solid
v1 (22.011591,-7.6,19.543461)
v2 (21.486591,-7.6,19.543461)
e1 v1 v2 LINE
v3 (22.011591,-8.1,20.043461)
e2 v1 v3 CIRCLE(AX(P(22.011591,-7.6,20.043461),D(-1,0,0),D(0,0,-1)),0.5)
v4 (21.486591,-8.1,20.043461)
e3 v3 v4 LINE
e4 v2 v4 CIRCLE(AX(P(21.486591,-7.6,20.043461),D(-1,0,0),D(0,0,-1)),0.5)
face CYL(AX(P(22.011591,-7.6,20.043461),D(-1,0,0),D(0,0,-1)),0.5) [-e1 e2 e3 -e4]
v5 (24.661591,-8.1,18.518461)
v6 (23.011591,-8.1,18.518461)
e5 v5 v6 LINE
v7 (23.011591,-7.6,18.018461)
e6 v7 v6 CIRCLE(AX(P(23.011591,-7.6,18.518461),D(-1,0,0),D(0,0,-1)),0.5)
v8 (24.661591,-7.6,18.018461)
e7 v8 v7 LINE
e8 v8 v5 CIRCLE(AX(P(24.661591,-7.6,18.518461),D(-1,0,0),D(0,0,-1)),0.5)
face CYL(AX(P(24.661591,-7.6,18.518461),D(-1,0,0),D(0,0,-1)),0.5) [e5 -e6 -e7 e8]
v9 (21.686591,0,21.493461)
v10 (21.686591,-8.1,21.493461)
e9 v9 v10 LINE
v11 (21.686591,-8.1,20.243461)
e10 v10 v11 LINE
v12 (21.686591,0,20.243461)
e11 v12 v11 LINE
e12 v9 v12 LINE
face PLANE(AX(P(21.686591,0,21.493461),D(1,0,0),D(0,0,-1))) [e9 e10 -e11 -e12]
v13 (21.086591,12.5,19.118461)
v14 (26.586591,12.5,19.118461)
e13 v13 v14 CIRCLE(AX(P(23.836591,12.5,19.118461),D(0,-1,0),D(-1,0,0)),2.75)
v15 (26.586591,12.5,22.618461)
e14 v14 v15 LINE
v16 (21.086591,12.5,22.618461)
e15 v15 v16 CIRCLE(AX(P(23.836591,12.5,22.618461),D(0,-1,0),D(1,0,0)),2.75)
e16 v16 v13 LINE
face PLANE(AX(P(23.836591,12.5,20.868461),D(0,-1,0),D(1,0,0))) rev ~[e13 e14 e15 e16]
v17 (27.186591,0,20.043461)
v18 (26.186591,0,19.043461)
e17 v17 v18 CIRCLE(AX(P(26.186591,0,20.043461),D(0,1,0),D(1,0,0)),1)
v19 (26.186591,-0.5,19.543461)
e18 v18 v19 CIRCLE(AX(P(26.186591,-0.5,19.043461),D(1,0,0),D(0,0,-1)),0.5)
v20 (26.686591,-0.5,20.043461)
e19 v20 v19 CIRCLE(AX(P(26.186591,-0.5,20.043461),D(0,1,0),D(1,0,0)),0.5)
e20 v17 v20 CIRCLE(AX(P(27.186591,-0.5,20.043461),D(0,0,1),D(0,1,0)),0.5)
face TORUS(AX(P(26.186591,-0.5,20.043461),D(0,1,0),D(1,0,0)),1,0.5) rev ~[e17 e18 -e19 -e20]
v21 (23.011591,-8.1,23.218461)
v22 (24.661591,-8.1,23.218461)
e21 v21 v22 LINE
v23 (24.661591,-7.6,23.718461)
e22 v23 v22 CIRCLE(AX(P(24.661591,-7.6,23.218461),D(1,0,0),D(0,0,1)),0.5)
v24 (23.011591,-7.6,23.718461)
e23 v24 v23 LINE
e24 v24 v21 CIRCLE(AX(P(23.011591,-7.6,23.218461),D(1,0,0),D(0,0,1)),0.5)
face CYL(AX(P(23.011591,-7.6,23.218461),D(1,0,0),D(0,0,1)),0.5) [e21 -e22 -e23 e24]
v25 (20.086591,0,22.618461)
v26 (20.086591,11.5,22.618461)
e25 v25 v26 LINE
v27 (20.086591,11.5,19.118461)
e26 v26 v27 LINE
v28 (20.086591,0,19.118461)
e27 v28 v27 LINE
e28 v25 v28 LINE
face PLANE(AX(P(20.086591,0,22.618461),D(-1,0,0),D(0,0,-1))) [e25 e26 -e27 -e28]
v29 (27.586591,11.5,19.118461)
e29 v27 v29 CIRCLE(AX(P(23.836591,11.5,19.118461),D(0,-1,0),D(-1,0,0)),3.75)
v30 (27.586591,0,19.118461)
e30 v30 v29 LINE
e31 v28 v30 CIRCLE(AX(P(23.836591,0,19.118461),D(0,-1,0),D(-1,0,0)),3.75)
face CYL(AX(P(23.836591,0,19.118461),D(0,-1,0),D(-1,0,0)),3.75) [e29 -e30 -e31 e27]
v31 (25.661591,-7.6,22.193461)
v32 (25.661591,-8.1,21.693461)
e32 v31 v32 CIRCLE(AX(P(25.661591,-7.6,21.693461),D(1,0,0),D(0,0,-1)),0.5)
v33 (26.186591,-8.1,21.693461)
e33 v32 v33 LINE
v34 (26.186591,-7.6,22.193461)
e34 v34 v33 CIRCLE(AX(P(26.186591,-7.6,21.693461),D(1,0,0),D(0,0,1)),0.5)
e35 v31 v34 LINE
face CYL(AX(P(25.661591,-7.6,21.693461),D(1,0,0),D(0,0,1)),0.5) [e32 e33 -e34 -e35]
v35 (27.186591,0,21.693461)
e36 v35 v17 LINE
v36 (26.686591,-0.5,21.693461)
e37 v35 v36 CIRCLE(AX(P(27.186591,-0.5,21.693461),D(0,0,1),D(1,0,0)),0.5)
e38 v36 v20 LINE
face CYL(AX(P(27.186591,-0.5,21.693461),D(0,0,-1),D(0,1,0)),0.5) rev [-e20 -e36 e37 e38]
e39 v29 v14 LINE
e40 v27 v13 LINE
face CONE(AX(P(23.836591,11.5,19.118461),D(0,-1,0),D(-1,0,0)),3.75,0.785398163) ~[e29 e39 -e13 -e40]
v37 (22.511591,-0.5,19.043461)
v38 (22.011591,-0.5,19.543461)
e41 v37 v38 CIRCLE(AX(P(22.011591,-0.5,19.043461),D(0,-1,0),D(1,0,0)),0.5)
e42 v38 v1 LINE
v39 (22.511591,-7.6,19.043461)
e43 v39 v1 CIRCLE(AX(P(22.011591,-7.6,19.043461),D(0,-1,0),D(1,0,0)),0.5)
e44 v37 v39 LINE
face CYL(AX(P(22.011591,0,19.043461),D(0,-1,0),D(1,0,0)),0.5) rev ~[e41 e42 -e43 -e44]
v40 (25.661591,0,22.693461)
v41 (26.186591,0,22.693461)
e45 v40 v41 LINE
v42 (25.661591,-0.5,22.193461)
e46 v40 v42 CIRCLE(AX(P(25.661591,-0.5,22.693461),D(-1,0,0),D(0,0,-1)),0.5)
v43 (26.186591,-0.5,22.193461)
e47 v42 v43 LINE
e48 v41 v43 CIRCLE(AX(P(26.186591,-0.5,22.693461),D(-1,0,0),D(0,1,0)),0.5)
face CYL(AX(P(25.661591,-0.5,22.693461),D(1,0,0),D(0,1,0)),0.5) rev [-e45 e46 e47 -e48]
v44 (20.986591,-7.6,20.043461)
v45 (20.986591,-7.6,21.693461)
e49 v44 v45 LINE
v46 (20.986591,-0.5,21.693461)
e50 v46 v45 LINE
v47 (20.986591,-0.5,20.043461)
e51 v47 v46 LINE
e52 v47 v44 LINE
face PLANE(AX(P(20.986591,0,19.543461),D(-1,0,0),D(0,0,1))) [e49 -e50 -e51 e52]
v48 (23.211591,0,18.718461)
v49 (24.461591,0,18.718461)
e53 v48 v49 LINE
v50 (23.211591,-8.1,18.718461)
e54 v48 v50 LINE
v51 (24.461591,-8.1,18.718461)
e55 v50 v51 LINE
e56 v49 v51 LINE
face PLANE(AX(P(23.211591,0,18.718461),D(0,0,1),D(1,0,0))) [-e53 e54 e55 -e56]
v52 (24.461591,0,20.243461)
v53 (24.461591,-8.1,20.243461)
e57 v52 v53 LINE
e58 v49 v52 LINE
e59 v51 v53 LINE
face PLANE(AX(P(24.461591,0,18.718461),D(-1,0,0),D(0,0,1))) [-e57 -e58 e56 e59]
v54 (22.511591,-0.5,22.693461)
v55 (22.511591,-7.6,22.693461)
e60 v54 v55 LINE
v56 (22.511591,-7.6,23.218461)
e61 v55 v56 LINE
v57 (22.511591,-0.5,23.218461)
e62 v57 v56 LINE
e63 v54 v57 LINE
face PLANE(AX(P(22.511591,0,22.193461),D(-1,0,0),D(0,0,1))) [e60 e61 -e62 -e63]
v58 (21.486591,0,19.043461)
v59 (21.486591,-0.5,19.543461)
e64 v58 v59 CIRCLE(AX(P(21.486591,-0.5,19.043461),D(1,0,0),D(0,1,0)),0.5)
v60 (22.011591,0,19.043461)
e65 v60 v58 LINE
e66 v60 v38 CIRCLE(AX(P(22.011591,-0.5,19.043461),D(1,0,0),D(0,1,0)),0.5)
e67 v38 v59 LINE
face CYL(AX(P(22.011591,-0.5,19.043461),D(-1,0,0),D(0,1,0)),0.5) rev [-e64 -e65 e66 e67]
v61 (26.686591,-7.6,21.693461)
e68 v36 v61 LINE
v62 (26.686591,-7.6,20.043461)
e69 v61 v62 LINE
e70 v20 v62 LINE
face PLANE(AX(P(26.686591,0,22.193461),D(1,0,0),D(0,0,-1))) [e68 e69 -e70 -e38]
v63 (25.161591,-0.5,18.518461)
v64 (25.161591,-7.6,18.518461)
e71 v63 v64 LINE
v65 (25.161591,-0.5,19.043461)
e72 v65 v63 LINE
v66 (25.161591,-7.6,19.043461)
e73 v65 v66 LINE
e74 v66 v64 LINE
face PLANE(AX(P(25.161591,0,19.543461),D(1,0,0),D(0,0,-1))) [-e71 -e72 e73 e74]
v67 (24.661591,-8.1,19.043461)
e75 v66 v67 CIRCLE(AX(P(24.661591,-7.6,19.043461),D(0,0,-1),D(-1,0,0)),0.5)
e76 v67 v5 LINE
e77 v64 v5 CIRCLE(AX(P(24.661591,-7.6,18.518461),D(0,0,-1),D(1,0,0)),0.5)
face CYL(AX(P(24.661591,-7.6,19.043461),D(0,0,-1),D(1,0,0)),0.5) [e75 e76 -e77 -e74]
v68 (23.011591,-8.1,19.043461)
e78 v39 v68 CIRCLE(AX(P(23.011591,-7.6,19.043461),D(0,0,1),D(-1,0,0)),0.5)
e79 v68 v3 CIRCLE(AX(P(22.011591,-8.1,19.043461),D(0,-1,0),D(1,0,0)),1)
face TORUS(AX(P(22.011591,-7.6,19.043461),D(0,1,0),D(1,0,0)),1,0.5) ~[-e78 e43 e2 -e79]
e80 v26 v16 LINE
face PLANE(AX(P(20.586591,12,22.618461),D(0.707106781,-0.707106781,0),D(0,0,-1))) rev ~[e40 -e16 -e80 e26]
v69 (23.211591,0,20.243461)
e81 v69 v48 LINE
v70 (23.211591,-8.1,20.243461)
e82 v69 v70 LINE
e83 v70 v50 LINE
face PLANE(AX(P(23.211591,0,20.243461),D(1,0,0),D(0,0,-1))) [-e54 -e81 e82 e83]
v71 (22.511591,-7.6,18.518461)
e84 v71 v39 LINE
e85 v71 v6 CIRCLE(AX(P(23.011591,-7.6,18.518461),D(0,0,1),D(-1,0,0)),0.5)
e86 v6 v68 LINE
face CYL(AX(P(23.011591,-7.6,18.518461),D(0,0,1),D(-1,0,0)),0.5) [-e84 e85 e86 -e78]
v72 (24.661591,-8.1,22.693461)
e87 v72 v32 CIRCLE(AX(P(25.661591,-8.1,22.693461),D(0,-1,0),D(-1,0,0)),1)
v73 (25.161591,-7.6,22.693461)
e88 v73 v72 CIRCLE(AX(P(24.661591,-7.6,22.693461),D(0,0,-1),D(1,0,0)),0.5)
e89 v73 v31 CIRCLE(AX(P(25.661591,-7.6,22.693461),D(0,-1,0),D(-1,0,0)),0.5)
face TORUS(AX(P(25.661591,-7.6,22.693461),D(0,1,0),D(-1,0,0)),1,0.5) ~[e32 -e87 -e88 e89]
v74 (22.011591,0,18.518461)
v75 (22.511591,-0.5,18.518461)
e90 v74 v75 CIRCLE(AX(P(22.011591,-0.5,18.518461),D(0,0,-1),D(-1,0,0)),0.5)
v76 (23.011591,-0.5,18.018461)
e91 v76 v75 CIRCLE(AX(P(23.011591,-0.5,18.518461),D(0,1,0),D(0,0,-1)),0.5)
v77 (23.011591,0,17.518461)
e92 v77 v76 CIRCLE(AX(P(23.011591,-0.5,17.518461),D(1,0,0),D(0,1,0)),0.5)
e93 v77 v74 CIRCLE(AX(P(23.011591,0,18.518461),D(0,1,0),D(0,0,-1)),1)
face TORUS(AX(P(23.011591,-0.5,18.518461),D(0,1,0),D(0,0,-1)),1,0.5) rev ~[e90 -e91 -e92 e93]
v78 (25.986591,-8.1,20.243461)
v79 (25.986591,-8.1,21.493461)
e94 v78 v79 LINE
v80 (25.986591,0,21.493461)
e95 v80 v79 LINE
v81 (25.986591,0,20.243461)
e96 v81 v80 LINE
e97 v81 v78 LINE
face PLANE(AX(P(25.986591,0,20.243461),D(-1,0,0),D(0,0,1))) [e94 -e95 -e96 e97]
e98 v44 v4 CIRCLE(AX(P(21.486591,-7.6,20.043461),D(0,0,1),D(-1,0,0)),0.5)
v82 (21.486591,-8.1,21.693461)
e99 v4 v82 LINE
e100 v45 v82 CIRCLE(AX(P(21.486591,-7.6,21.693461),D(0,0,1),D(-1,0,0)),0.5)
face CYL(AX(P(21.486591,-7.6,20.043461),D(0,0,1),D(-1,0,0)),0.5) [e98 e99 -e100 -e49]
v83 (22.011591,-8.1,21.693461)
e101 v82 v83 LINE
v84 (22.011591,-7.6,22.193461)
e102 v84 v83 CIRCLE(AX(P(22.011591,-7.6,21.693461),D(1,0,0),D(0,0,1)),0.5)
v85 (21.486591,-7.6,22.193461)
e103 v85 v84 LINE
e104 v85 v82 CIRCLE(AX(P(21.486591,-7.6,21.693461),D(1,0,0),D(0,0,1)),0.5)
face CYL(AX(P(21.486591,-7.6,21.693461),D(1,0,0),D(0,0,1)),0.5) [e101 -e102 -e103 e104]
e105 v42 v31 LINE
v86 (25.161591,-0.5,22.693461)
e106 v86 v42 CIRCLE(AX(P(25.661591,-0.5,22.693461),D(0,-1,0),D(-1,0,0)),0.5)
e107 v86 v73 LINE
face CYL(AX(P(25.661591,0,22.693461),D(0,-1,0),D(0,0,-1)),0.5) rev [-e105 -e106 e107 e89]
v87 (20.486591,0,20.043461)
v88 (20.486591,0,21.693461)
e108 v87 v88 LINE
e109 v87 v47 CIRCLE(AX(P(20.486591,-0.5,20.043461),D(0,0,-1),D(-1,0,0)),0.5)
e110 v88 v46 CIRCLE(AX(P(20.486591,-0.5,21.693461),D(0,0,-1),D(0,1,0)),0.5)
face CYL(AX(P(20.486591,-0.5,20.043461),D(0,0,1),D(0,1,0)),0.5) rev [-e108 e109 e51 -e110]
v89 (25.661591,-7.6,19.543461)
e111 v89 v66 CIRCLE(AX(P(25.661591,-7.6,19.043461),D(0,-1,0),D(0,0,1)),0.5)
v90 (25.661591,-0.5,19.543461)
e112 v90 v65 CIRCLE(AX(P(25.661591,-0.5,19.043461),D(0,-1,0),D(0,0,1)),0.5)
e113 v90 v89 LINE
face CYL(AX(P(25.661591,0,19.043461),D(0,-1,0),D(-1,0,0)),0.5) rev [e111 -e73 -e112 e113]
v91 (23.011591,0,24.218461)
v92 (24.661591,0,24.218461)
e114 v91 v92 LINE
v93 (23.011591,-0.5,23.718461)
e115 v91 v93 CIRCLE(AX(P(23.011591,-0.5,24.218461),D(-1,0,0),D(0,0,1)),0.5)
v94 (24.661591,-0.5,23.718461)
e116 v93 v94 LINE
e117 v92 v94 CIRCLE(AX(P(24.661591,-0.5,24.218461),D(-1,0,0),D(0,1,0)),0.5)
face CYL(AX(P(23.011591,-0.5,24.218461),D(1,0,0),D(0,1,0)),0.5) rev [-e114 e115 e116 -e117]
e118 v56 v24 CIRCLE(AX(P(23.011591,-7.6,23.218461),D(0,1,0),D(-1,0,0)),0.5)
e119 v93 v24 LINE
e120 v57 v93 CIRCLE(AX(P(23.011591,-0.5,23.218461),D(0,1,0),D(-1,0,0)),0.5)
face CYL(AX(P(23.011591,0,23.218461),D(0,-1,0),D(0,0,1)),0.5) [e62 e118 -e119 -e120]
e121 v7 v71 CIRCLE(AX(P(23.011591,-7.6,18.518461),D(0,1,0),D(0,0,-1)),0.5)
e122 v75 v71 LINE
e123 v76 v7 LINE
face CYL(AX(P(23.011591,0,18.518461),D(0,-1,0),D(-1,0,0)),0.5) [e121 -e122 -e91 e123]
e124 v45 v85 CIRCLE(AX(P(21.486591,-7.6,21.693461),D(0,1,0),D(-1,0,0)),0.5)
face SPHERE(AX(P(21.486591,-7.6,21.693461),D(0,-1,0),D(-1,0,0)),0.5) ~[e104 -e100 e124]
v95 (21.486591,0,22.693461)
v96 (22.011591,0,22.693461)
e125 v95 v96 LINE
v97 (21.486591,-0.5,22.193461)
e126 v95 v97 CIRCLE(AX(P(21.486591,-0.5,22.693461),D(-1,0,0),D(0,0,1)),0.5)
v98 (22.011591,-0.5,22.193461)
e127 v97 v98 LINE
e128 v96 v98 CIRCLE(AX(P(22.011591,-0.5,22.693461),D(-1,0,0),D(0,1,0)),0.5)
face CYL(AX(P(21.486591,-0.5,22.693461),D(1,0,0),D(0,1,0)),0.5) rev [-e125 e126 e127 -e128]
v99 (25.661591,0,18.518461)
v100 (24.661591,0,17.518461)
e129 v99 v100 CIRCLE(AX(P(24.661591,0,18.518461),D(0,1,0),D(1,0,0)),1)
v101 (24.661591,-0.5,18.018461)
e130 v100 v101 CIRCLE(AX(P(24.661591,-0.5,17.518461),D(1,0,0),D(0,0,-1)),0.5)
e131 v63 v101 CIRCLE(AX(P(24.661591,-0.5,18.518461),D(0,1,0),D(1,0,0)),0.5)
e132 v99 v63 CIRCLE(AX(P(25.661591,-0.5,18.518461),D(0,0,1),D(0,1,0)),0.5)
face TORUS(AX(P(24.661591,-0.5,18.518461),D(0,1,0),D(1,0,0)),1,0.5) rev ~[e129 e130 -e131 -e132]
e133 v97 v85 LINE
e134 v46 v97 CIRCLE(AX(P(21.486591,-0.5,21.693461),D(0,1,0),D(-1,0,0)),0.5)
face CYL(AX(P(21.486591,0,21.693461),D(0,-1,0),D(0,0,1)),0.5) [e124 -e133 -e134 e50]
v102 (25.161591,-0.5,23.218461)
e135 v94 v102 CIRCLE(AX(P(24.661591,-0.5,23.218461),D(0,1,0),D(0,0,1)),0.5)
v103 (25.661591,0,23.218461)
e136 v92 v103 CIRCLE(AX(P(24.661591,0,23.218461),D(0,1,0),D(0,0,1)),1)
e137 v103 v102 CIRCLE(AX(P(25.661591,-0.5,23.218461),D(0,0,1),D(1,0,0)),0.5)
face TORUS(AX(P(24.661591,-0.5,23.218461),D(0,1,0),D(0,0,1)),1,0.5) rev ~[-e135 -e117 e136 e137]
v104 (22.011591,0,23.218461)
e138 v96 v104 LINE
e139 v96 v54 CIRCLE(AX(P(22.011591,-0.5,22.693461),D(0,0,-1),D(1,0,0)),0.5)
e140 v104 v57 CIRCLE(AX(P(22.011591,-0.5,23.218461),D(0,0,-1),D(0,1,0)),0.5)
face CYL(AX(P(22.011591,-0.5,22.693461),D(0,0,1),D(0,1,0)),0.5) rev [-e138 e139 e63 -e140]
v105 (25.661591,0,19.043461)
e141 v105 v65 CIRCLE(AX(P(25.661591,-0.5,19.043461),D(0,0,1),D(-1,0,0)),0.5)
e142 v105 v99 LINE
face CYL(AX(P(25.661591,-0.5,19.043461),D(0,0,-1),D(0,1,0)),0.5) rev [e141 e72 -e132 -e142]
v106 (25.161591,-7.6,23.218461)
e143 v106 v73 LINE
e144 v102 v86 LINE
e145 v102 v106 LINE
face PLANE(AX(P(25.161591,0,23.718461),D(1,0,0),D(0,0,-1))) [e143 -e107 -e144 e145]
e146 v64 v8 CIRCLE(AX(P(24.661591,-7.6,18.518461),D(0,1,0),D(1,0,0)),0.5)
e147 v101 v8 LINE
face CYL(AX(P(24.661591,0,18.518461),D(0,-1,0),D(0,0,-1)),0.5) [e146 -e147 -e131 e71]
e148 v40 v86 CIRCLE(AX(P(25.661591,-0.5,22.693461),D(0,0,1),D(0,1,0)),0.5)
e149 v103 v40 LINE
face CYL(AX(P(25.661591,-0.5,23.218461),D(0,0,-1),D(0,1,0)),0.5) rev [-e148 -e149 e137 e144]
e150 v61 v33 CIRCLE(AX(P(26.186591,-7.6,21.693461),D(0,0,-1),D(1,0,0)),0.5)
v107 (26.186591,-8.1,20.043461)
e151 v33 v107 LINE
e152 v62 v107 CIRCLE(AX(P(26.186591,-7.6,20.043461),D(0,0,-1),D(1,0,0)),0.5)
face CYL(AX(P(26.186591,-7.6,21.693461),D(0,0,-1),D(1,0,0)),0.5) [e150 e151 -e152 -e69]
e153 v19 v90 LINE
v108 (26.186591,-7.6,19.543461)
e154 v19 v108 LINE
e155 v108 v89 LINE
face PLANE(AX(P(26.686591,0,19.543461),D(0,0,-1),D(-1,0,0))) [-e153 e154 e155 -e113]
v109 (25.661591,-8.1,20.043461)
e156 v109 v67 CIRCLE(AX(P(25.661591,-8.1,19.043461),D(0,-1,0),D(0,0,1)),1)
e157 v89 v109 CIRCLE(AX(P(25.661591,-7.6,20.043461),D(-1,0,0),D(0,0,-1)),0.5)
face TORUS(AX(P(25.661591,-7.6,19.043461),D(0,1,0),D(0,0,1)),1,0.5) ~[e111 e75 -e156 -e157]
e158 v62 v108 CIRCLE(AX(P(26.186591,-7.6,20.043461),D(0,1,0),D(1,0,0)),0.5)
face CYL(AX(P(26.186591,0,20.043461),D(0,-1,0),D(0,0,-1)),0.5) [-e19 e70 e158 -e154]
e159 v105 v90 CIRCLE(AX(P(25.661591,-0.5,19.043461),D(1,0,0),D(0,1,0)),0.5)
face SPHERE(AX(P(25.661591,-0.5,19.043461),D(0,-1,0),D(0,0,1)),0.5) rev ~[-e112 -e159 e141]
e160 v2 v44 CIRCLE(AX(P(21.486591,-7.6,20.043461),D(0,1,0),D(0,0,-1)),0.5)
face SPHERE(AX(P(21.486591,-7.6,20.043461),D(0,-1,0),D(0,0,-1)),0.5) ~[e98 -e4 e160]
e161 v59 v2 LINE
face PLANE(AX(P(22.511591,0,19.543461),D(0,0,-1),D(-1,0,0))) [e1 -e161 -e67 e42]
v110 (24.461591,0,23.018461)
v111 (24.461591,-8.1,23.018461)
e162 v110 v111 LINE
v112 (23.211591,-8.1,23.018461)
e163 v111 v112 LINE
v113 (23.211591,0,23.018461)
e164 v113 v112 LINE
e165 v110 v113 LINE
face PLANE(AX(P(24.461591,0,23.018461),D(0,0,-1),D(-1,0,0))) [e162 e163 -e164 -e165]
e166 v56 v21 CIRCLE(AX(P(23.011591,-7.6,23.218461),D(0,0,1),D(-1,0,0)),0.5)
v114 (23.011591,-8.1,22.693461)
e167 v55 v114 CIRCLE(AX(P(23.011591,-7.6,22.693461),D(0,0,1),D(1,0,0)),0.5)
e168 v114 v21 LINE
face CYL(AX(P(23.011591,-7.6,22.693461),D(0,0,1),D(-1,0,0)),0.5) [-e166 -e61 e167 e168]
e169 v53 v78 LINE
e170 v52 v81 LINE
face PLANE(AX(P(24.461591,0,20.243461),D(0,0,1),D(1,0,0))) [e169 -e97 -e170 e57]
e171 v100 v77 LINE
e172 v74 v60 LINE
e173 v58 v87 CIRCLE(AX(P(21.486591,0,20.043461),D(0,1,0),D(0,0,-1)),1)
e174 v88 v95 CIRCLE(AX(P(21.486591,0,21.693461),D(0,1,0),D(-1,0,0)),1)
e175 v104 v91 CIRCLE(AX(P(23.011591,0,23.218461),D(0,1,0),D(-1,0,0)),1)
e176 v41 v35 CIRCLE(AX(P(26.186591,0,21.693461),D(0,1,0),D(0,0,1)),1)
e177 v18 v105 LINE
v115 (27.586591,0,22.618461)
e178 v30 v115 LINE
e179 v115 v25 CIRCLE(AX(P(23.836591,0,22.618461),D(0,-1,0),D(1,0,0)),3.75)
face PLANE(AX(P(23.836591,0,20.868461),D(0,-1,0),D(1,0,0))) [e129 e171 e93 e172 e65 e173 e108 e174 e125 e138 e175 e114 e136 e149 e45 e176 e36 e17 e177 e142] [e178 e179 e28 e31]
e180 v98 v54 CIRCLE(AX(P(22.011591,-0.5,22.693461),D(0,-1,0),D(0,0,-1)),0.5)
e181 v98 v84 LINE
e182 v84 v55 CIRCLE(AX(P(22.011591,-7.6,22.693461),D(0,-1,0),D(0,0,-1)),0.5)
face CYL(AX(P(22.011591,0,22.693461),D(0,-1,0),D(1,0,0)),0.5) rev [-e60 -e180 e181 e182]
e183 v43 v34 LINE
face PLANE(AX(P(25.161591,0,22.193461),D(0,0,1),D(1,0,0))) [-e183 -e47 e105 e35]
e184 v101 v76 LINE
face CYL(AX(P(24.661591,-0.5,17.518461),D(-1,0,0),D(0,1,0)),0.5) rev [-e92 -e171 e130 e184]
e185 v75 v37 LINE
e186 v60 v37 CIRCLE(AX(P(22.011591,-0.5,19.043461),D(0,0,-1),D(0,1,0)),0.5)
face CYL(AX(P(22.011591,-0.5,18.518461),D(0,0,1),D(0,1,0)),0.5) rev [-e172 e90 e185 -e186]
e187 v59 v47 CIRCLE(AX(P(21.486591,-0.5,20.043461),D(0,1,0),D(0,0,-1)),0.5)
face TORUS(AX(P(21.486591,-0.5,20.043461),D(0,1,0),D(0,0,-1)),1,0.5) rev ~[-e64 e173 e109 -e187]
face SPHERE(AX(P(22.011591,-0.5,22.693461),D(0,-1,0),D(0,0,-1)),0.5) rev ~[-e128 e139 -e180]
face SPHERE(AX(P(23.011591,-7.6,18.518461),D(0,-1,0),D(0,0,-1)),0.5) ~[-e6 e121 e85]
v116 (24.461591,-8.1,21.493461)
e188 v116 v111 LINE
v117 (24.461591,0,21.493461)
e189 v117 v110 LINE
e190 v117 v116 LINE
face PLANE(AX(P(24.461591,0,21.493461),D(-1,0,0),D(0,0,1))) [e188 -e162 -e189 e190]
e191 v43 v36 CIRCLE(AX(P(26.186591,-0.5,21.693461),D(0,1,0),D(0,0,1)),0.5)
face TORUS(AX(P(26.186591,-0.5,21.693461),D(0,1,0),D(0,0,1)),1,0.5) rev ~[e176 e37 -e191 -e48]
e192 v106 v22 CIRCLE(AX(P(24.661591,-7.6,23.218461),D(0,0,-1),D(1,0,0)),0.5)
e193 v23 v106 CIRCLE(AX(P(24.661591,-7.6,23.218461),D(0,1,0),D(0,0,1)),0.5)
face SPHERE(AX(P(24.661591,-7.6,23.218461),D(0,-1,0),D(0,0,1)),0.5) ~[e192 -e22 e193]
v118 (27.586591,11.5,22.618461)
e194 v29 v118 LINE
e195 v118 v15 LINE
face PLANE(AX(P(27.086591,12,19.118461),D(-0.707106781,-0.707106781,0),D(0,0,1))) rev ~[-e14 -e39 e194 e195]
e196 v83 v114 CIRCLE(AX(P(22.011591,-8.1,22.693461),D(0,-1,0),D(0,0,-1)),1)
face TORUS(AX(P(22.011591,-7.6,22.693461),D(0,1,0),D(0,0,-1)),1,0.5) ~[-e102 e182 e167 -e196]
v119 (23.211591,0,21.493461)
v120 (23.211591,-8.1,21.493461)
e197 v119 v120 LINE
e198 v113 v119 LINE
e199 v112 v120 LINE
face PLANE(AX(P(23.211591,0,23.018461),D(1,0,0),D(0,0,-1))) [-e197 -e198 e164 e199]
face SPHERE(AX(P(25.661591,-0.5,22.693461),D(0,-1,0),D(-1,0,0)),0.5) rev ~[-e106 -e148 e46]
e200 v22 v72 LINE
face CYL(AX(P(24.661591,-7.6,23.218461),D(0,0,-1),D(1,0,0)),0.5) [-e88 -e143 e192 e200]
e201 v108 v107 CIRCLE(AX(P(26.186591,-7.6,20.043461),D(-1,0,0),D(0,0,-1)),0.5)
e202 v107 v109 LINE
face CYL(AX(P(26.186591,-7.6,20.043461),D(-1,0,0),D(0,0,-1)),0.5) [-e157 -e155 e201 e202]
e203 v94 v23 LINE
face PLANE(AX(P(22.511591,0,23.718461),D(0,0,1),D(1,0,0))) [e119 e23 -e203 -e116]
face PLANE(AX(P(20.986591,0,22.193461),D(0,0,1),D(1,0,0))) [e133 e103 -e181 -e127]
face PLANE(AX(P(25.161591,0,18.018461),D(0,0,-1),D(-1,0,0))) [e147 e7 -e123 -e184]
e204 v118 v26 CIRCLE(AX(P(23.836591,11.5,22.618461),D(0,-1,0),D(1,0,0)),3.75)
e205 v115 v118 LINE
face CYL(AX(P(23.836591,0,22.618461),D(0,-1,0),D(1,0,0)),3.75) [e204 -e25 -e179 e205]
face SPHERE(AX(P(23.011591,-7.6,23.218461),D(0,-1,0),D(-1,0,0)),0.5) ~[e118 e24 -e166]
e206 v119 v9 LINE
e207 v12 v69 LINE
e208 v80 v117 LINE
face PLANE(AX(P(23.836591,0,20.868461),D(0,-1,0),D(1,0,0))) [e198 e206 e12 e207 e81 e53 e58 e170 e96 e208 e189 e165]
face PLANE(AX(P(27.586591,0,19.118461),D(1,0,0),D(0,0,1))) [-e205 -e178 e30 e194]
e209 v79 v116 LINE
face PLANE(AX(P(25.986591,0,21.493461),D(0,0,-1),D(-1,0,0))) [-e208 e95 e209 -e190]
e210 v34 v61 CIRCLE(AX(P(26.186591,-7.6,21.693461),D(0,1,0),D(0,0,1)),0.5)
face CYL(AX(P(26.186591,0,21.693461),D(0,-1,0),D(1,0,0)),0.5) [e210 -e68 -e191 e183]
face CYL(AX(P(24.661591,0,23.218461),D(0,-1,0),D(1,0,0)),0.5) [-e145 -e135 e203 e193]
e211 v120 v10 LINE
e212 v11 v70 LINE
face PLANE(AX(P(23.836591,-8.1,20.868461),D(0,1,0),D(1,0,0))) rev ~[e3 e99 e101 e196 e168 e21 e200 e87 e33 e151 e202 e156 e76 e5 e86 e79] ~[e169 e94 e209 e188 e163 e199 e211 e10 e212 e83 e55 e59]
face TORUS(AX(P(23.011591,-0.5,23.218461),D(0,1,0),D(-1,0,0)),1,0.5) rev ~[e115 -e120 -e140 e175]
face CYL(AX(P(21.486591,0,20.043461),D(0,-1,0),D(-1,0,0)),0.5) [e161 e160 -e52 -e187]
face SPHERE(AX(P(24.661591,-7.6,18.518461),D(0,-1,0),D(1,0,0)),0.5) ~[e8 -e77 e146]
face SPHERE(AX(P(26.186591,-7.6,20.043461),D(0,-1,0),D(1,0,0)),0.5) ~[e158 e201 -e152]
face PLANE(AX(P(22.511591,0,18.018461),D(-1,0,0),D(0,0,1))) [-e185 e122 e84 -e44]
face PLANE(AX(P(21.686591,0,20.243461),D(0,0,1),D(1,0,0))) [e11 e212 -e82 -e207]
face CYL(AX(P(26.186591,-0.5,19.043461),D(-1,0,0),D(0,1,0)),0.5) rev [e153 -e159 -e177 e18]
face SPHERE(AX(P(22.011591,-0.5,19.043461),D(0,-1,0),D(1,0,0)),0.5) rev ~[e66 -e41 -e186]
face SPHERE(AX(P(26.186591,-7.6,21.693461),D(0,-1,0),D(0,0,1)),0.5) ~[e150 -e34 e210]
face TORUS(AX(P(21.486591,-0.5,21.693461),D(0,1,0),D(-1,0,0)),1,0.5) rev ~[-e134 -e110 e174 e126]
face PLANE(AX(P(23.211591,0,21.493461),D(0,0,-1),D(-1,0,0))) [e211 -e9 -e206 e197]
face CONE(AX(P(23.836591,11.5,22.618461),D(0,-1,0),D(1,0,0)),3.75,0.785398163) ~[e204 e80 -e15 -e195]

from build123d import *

# Parameters (mm, degrees)
BOSS_EXTRUDE1_DEPTH = 8.1
BOSS_EXTRUDE2_DEPTH = 12.5
FILLET1_R           = 0.5
FILLET2_R           = 0.5
FILLET4_R           = 0.5
CHAMFER2_SIZE       = 1


with BuildPart() as part:
    # Sketch8 → Boss-Extrude1 (new body)
    with BuildSketch(Plane(origin=(-2.232753674, 0, 0.665681661), x_dir=(-1, 0, 0), z_dir=(0, -1, 0))):
        Polygon((-24.744344877, -18.877779499), (-23.219344877, -18.877779499), (-23.219344877, -21.527779499), (-24.744344877, -21.527779499), (-24.744344877, -23.052779499), (-27.394344877, -23.052779499), (-27.394344877, -21.527779499), (-28.919344877, -21.527779499), (-28.919344877, -18.877779499), (-27.394344877, -18.877779499), (-27.394344877, -17.352779499), (-24.744344877, -17.352779499), align=None)
        Polygon((-26.694344877, -20.827779499), (-26.694344877, -22.352779499), (-25.444344877, -22.352779499), (-25.444344877, -20.827779499), (-23.919344877, -20.827779499), (-23.919344877, -19.577779499), (-25.444344877, -19.577779499), (-25.444344877, -18.052779499), (-26.694344877, -18.052779499), (-26.694344877, -19.577779499), (-28.219344877, -19.577779499), (-28.219344877, -20.827779499), align=None, mode=Mode.SUBTRACT)
    extrude(amount=BOSS_EXTRUDE1_DEPTH)

    # Sketch9 → Boss-Extrude2 (add)
    with BuildSketch(Plane(origin=(0, 0, 0), x_dir=(-1, 0, 0), z_dir=(0, 1, 0))):
        with BuildLine():
            Line((-20.086591203, 22.61846116), (-20.086591203, 19.11846116))
            ThreePointArc((-20.086591203, 19.11846116), (-23.836591203, 15.36846116), (-27.586591203, 19.11846116))
            Line((-27.586591203, 19.11846116), (-27.586591203, 22.61846116))
            ThreePointArc((-27.586591203, 22.61846116), (-23.836591203, 26.36846116), (-20.086591203, 22.61846116))
        make_face()
    extrude(amount=BOSS_EXTRUDE2_DEPTH)

    # Fillet1
    fillet1_edges = [part.edges().sort_by_distance(p)[0] for p in [
        (22.511591203, -4.05, 19.54346116),
        (20.986591203, -4.05, 19.54346116),
        (20.986591203, -4.05, 22.19346116),
        (22.511591203, -4.05, 22.19346116),
        (22.511591203, -4.05, 23.71846116),
        (25.161591203, -4.05, 23.71846116),
        (25.161591203, -4.05, 22.19346116),
        (26.686591203, -4.05, 22.19346116),
        (26.686591203, -4.05, 19.54346116),
        (25.161591203, -4.05, 19.54346116),
        (25.161591203, -4.05, 18.01846116),
        (22.511591203, -4.05, 18.01846116),
    ]]
    fillet(fillet1_edges, radius=FILLET1_R)

    # Fillet2
    fillet2_edges = [part.edges().sort_by_distance(p)[0] for p in [
        (21.749091203, 0, 19.54346116),
        (20.986591203, 0, 20.86846116),
        (21.749091203, 0, 22.19346116),
        (22.511591203, 0, 22.95596116),
        (23.836591203, 0, 23.71846116),
        (25.161591203, 0, 22.95596116),
        (25.924091203, 0, 22.19346116),
        (26.686591203, 0, 20.86846116),
        (25.924091203, 0, 19.54346116),
        (25.161591203, 0, 18.78096116),
        (23.836591203, 0, 18.01846116),
        (25.308037813, 0, 19.39701455),
        (25.308037813, 0, 22.339907769),
        (22.365144594, 0, 22.339907769),
        (22.365144594, 0, 19.39701455),
        (21.133037813, 0, 19.689907769),
        (21.133037813, 0, 22.04701455),
        (22.658037813, 0, 23.57201455),
        (25.015144594, 0, 23.57201455),
        (26.540144594, 0, 22.04701455),
        (26.540144594, 0, 19.689907769),
        (22.658037813, 0, 18.164907769),
        (25.015144594, 0, 18.164907769),
        (22.511591203, 0, 18.78096116),
    ]]
    fillet(fillet2_edges, radius=FILLET2_R)

    # Fillet4
    fillet4_edges = [part.edges().sort_by_distance(p)[0] for p in [
        (21.749091203, -8.1, 19.54346116),
        (20.986591203, -8.1, 20.86846116),
        (23.836591203, -8.1, 18.01846116),
        (25.161591203, -8.1, 18.78096116),
        (25.924091203, -8.1, 19.54346116),
        (26.686591203, -8.1, 20.86846116),
        (25.924091203, -8.1, 22.19346116),
        (25.161591203, -8.1, 22.95596116),
        (23.836591203, -8.1, 23.71846116),
        (22.511591203, -8.1, 22.95596116),
        (21.749091203, -8.1, 22.19346116),
        (25.015144594, -8.1, 18.164907769),
        (22.658037813, -8.1, 18.164907769),
        (26.540144594, -8.1, 19.689907769),
        (26.540144594, -8.1, 22.04701455),
        (25.015144594, -8.1, 23.57201455),
        (22.658037813, -8.1, 23.57201455),
        (21.133037813, -8.1, 22.04701455),
        (21.133037813, -8.1, 19.689907769),
        (22.365144594, -8.1, 19.39701455),
        (22.365144594, -8.1, 22.339907769),
        (25.308037813, -8.1, 22.339907769),
        (25.308037813, -8.1, 19.39701455),
        (22.511591203, -8.1, 18.78096116),
    ]]
    fillet(fillet4_edges, radius=FILLET4_R)

    # Chamfer2
    chamfer2_edges = [part.edges().sort_by_distance(p)[0] for p in [
        (23.836591203, 12.5, 26.36846116),
        (27.586591203, 12.5, 20.86846116),
        (23.836591203, 12.5, 15.36846116),
        (20.086591203, 12.5, 20.86846116),
    ]]
    chamfer(chamfer2_edges, length=CHAMFER2_SIZE)


solid = part.part
